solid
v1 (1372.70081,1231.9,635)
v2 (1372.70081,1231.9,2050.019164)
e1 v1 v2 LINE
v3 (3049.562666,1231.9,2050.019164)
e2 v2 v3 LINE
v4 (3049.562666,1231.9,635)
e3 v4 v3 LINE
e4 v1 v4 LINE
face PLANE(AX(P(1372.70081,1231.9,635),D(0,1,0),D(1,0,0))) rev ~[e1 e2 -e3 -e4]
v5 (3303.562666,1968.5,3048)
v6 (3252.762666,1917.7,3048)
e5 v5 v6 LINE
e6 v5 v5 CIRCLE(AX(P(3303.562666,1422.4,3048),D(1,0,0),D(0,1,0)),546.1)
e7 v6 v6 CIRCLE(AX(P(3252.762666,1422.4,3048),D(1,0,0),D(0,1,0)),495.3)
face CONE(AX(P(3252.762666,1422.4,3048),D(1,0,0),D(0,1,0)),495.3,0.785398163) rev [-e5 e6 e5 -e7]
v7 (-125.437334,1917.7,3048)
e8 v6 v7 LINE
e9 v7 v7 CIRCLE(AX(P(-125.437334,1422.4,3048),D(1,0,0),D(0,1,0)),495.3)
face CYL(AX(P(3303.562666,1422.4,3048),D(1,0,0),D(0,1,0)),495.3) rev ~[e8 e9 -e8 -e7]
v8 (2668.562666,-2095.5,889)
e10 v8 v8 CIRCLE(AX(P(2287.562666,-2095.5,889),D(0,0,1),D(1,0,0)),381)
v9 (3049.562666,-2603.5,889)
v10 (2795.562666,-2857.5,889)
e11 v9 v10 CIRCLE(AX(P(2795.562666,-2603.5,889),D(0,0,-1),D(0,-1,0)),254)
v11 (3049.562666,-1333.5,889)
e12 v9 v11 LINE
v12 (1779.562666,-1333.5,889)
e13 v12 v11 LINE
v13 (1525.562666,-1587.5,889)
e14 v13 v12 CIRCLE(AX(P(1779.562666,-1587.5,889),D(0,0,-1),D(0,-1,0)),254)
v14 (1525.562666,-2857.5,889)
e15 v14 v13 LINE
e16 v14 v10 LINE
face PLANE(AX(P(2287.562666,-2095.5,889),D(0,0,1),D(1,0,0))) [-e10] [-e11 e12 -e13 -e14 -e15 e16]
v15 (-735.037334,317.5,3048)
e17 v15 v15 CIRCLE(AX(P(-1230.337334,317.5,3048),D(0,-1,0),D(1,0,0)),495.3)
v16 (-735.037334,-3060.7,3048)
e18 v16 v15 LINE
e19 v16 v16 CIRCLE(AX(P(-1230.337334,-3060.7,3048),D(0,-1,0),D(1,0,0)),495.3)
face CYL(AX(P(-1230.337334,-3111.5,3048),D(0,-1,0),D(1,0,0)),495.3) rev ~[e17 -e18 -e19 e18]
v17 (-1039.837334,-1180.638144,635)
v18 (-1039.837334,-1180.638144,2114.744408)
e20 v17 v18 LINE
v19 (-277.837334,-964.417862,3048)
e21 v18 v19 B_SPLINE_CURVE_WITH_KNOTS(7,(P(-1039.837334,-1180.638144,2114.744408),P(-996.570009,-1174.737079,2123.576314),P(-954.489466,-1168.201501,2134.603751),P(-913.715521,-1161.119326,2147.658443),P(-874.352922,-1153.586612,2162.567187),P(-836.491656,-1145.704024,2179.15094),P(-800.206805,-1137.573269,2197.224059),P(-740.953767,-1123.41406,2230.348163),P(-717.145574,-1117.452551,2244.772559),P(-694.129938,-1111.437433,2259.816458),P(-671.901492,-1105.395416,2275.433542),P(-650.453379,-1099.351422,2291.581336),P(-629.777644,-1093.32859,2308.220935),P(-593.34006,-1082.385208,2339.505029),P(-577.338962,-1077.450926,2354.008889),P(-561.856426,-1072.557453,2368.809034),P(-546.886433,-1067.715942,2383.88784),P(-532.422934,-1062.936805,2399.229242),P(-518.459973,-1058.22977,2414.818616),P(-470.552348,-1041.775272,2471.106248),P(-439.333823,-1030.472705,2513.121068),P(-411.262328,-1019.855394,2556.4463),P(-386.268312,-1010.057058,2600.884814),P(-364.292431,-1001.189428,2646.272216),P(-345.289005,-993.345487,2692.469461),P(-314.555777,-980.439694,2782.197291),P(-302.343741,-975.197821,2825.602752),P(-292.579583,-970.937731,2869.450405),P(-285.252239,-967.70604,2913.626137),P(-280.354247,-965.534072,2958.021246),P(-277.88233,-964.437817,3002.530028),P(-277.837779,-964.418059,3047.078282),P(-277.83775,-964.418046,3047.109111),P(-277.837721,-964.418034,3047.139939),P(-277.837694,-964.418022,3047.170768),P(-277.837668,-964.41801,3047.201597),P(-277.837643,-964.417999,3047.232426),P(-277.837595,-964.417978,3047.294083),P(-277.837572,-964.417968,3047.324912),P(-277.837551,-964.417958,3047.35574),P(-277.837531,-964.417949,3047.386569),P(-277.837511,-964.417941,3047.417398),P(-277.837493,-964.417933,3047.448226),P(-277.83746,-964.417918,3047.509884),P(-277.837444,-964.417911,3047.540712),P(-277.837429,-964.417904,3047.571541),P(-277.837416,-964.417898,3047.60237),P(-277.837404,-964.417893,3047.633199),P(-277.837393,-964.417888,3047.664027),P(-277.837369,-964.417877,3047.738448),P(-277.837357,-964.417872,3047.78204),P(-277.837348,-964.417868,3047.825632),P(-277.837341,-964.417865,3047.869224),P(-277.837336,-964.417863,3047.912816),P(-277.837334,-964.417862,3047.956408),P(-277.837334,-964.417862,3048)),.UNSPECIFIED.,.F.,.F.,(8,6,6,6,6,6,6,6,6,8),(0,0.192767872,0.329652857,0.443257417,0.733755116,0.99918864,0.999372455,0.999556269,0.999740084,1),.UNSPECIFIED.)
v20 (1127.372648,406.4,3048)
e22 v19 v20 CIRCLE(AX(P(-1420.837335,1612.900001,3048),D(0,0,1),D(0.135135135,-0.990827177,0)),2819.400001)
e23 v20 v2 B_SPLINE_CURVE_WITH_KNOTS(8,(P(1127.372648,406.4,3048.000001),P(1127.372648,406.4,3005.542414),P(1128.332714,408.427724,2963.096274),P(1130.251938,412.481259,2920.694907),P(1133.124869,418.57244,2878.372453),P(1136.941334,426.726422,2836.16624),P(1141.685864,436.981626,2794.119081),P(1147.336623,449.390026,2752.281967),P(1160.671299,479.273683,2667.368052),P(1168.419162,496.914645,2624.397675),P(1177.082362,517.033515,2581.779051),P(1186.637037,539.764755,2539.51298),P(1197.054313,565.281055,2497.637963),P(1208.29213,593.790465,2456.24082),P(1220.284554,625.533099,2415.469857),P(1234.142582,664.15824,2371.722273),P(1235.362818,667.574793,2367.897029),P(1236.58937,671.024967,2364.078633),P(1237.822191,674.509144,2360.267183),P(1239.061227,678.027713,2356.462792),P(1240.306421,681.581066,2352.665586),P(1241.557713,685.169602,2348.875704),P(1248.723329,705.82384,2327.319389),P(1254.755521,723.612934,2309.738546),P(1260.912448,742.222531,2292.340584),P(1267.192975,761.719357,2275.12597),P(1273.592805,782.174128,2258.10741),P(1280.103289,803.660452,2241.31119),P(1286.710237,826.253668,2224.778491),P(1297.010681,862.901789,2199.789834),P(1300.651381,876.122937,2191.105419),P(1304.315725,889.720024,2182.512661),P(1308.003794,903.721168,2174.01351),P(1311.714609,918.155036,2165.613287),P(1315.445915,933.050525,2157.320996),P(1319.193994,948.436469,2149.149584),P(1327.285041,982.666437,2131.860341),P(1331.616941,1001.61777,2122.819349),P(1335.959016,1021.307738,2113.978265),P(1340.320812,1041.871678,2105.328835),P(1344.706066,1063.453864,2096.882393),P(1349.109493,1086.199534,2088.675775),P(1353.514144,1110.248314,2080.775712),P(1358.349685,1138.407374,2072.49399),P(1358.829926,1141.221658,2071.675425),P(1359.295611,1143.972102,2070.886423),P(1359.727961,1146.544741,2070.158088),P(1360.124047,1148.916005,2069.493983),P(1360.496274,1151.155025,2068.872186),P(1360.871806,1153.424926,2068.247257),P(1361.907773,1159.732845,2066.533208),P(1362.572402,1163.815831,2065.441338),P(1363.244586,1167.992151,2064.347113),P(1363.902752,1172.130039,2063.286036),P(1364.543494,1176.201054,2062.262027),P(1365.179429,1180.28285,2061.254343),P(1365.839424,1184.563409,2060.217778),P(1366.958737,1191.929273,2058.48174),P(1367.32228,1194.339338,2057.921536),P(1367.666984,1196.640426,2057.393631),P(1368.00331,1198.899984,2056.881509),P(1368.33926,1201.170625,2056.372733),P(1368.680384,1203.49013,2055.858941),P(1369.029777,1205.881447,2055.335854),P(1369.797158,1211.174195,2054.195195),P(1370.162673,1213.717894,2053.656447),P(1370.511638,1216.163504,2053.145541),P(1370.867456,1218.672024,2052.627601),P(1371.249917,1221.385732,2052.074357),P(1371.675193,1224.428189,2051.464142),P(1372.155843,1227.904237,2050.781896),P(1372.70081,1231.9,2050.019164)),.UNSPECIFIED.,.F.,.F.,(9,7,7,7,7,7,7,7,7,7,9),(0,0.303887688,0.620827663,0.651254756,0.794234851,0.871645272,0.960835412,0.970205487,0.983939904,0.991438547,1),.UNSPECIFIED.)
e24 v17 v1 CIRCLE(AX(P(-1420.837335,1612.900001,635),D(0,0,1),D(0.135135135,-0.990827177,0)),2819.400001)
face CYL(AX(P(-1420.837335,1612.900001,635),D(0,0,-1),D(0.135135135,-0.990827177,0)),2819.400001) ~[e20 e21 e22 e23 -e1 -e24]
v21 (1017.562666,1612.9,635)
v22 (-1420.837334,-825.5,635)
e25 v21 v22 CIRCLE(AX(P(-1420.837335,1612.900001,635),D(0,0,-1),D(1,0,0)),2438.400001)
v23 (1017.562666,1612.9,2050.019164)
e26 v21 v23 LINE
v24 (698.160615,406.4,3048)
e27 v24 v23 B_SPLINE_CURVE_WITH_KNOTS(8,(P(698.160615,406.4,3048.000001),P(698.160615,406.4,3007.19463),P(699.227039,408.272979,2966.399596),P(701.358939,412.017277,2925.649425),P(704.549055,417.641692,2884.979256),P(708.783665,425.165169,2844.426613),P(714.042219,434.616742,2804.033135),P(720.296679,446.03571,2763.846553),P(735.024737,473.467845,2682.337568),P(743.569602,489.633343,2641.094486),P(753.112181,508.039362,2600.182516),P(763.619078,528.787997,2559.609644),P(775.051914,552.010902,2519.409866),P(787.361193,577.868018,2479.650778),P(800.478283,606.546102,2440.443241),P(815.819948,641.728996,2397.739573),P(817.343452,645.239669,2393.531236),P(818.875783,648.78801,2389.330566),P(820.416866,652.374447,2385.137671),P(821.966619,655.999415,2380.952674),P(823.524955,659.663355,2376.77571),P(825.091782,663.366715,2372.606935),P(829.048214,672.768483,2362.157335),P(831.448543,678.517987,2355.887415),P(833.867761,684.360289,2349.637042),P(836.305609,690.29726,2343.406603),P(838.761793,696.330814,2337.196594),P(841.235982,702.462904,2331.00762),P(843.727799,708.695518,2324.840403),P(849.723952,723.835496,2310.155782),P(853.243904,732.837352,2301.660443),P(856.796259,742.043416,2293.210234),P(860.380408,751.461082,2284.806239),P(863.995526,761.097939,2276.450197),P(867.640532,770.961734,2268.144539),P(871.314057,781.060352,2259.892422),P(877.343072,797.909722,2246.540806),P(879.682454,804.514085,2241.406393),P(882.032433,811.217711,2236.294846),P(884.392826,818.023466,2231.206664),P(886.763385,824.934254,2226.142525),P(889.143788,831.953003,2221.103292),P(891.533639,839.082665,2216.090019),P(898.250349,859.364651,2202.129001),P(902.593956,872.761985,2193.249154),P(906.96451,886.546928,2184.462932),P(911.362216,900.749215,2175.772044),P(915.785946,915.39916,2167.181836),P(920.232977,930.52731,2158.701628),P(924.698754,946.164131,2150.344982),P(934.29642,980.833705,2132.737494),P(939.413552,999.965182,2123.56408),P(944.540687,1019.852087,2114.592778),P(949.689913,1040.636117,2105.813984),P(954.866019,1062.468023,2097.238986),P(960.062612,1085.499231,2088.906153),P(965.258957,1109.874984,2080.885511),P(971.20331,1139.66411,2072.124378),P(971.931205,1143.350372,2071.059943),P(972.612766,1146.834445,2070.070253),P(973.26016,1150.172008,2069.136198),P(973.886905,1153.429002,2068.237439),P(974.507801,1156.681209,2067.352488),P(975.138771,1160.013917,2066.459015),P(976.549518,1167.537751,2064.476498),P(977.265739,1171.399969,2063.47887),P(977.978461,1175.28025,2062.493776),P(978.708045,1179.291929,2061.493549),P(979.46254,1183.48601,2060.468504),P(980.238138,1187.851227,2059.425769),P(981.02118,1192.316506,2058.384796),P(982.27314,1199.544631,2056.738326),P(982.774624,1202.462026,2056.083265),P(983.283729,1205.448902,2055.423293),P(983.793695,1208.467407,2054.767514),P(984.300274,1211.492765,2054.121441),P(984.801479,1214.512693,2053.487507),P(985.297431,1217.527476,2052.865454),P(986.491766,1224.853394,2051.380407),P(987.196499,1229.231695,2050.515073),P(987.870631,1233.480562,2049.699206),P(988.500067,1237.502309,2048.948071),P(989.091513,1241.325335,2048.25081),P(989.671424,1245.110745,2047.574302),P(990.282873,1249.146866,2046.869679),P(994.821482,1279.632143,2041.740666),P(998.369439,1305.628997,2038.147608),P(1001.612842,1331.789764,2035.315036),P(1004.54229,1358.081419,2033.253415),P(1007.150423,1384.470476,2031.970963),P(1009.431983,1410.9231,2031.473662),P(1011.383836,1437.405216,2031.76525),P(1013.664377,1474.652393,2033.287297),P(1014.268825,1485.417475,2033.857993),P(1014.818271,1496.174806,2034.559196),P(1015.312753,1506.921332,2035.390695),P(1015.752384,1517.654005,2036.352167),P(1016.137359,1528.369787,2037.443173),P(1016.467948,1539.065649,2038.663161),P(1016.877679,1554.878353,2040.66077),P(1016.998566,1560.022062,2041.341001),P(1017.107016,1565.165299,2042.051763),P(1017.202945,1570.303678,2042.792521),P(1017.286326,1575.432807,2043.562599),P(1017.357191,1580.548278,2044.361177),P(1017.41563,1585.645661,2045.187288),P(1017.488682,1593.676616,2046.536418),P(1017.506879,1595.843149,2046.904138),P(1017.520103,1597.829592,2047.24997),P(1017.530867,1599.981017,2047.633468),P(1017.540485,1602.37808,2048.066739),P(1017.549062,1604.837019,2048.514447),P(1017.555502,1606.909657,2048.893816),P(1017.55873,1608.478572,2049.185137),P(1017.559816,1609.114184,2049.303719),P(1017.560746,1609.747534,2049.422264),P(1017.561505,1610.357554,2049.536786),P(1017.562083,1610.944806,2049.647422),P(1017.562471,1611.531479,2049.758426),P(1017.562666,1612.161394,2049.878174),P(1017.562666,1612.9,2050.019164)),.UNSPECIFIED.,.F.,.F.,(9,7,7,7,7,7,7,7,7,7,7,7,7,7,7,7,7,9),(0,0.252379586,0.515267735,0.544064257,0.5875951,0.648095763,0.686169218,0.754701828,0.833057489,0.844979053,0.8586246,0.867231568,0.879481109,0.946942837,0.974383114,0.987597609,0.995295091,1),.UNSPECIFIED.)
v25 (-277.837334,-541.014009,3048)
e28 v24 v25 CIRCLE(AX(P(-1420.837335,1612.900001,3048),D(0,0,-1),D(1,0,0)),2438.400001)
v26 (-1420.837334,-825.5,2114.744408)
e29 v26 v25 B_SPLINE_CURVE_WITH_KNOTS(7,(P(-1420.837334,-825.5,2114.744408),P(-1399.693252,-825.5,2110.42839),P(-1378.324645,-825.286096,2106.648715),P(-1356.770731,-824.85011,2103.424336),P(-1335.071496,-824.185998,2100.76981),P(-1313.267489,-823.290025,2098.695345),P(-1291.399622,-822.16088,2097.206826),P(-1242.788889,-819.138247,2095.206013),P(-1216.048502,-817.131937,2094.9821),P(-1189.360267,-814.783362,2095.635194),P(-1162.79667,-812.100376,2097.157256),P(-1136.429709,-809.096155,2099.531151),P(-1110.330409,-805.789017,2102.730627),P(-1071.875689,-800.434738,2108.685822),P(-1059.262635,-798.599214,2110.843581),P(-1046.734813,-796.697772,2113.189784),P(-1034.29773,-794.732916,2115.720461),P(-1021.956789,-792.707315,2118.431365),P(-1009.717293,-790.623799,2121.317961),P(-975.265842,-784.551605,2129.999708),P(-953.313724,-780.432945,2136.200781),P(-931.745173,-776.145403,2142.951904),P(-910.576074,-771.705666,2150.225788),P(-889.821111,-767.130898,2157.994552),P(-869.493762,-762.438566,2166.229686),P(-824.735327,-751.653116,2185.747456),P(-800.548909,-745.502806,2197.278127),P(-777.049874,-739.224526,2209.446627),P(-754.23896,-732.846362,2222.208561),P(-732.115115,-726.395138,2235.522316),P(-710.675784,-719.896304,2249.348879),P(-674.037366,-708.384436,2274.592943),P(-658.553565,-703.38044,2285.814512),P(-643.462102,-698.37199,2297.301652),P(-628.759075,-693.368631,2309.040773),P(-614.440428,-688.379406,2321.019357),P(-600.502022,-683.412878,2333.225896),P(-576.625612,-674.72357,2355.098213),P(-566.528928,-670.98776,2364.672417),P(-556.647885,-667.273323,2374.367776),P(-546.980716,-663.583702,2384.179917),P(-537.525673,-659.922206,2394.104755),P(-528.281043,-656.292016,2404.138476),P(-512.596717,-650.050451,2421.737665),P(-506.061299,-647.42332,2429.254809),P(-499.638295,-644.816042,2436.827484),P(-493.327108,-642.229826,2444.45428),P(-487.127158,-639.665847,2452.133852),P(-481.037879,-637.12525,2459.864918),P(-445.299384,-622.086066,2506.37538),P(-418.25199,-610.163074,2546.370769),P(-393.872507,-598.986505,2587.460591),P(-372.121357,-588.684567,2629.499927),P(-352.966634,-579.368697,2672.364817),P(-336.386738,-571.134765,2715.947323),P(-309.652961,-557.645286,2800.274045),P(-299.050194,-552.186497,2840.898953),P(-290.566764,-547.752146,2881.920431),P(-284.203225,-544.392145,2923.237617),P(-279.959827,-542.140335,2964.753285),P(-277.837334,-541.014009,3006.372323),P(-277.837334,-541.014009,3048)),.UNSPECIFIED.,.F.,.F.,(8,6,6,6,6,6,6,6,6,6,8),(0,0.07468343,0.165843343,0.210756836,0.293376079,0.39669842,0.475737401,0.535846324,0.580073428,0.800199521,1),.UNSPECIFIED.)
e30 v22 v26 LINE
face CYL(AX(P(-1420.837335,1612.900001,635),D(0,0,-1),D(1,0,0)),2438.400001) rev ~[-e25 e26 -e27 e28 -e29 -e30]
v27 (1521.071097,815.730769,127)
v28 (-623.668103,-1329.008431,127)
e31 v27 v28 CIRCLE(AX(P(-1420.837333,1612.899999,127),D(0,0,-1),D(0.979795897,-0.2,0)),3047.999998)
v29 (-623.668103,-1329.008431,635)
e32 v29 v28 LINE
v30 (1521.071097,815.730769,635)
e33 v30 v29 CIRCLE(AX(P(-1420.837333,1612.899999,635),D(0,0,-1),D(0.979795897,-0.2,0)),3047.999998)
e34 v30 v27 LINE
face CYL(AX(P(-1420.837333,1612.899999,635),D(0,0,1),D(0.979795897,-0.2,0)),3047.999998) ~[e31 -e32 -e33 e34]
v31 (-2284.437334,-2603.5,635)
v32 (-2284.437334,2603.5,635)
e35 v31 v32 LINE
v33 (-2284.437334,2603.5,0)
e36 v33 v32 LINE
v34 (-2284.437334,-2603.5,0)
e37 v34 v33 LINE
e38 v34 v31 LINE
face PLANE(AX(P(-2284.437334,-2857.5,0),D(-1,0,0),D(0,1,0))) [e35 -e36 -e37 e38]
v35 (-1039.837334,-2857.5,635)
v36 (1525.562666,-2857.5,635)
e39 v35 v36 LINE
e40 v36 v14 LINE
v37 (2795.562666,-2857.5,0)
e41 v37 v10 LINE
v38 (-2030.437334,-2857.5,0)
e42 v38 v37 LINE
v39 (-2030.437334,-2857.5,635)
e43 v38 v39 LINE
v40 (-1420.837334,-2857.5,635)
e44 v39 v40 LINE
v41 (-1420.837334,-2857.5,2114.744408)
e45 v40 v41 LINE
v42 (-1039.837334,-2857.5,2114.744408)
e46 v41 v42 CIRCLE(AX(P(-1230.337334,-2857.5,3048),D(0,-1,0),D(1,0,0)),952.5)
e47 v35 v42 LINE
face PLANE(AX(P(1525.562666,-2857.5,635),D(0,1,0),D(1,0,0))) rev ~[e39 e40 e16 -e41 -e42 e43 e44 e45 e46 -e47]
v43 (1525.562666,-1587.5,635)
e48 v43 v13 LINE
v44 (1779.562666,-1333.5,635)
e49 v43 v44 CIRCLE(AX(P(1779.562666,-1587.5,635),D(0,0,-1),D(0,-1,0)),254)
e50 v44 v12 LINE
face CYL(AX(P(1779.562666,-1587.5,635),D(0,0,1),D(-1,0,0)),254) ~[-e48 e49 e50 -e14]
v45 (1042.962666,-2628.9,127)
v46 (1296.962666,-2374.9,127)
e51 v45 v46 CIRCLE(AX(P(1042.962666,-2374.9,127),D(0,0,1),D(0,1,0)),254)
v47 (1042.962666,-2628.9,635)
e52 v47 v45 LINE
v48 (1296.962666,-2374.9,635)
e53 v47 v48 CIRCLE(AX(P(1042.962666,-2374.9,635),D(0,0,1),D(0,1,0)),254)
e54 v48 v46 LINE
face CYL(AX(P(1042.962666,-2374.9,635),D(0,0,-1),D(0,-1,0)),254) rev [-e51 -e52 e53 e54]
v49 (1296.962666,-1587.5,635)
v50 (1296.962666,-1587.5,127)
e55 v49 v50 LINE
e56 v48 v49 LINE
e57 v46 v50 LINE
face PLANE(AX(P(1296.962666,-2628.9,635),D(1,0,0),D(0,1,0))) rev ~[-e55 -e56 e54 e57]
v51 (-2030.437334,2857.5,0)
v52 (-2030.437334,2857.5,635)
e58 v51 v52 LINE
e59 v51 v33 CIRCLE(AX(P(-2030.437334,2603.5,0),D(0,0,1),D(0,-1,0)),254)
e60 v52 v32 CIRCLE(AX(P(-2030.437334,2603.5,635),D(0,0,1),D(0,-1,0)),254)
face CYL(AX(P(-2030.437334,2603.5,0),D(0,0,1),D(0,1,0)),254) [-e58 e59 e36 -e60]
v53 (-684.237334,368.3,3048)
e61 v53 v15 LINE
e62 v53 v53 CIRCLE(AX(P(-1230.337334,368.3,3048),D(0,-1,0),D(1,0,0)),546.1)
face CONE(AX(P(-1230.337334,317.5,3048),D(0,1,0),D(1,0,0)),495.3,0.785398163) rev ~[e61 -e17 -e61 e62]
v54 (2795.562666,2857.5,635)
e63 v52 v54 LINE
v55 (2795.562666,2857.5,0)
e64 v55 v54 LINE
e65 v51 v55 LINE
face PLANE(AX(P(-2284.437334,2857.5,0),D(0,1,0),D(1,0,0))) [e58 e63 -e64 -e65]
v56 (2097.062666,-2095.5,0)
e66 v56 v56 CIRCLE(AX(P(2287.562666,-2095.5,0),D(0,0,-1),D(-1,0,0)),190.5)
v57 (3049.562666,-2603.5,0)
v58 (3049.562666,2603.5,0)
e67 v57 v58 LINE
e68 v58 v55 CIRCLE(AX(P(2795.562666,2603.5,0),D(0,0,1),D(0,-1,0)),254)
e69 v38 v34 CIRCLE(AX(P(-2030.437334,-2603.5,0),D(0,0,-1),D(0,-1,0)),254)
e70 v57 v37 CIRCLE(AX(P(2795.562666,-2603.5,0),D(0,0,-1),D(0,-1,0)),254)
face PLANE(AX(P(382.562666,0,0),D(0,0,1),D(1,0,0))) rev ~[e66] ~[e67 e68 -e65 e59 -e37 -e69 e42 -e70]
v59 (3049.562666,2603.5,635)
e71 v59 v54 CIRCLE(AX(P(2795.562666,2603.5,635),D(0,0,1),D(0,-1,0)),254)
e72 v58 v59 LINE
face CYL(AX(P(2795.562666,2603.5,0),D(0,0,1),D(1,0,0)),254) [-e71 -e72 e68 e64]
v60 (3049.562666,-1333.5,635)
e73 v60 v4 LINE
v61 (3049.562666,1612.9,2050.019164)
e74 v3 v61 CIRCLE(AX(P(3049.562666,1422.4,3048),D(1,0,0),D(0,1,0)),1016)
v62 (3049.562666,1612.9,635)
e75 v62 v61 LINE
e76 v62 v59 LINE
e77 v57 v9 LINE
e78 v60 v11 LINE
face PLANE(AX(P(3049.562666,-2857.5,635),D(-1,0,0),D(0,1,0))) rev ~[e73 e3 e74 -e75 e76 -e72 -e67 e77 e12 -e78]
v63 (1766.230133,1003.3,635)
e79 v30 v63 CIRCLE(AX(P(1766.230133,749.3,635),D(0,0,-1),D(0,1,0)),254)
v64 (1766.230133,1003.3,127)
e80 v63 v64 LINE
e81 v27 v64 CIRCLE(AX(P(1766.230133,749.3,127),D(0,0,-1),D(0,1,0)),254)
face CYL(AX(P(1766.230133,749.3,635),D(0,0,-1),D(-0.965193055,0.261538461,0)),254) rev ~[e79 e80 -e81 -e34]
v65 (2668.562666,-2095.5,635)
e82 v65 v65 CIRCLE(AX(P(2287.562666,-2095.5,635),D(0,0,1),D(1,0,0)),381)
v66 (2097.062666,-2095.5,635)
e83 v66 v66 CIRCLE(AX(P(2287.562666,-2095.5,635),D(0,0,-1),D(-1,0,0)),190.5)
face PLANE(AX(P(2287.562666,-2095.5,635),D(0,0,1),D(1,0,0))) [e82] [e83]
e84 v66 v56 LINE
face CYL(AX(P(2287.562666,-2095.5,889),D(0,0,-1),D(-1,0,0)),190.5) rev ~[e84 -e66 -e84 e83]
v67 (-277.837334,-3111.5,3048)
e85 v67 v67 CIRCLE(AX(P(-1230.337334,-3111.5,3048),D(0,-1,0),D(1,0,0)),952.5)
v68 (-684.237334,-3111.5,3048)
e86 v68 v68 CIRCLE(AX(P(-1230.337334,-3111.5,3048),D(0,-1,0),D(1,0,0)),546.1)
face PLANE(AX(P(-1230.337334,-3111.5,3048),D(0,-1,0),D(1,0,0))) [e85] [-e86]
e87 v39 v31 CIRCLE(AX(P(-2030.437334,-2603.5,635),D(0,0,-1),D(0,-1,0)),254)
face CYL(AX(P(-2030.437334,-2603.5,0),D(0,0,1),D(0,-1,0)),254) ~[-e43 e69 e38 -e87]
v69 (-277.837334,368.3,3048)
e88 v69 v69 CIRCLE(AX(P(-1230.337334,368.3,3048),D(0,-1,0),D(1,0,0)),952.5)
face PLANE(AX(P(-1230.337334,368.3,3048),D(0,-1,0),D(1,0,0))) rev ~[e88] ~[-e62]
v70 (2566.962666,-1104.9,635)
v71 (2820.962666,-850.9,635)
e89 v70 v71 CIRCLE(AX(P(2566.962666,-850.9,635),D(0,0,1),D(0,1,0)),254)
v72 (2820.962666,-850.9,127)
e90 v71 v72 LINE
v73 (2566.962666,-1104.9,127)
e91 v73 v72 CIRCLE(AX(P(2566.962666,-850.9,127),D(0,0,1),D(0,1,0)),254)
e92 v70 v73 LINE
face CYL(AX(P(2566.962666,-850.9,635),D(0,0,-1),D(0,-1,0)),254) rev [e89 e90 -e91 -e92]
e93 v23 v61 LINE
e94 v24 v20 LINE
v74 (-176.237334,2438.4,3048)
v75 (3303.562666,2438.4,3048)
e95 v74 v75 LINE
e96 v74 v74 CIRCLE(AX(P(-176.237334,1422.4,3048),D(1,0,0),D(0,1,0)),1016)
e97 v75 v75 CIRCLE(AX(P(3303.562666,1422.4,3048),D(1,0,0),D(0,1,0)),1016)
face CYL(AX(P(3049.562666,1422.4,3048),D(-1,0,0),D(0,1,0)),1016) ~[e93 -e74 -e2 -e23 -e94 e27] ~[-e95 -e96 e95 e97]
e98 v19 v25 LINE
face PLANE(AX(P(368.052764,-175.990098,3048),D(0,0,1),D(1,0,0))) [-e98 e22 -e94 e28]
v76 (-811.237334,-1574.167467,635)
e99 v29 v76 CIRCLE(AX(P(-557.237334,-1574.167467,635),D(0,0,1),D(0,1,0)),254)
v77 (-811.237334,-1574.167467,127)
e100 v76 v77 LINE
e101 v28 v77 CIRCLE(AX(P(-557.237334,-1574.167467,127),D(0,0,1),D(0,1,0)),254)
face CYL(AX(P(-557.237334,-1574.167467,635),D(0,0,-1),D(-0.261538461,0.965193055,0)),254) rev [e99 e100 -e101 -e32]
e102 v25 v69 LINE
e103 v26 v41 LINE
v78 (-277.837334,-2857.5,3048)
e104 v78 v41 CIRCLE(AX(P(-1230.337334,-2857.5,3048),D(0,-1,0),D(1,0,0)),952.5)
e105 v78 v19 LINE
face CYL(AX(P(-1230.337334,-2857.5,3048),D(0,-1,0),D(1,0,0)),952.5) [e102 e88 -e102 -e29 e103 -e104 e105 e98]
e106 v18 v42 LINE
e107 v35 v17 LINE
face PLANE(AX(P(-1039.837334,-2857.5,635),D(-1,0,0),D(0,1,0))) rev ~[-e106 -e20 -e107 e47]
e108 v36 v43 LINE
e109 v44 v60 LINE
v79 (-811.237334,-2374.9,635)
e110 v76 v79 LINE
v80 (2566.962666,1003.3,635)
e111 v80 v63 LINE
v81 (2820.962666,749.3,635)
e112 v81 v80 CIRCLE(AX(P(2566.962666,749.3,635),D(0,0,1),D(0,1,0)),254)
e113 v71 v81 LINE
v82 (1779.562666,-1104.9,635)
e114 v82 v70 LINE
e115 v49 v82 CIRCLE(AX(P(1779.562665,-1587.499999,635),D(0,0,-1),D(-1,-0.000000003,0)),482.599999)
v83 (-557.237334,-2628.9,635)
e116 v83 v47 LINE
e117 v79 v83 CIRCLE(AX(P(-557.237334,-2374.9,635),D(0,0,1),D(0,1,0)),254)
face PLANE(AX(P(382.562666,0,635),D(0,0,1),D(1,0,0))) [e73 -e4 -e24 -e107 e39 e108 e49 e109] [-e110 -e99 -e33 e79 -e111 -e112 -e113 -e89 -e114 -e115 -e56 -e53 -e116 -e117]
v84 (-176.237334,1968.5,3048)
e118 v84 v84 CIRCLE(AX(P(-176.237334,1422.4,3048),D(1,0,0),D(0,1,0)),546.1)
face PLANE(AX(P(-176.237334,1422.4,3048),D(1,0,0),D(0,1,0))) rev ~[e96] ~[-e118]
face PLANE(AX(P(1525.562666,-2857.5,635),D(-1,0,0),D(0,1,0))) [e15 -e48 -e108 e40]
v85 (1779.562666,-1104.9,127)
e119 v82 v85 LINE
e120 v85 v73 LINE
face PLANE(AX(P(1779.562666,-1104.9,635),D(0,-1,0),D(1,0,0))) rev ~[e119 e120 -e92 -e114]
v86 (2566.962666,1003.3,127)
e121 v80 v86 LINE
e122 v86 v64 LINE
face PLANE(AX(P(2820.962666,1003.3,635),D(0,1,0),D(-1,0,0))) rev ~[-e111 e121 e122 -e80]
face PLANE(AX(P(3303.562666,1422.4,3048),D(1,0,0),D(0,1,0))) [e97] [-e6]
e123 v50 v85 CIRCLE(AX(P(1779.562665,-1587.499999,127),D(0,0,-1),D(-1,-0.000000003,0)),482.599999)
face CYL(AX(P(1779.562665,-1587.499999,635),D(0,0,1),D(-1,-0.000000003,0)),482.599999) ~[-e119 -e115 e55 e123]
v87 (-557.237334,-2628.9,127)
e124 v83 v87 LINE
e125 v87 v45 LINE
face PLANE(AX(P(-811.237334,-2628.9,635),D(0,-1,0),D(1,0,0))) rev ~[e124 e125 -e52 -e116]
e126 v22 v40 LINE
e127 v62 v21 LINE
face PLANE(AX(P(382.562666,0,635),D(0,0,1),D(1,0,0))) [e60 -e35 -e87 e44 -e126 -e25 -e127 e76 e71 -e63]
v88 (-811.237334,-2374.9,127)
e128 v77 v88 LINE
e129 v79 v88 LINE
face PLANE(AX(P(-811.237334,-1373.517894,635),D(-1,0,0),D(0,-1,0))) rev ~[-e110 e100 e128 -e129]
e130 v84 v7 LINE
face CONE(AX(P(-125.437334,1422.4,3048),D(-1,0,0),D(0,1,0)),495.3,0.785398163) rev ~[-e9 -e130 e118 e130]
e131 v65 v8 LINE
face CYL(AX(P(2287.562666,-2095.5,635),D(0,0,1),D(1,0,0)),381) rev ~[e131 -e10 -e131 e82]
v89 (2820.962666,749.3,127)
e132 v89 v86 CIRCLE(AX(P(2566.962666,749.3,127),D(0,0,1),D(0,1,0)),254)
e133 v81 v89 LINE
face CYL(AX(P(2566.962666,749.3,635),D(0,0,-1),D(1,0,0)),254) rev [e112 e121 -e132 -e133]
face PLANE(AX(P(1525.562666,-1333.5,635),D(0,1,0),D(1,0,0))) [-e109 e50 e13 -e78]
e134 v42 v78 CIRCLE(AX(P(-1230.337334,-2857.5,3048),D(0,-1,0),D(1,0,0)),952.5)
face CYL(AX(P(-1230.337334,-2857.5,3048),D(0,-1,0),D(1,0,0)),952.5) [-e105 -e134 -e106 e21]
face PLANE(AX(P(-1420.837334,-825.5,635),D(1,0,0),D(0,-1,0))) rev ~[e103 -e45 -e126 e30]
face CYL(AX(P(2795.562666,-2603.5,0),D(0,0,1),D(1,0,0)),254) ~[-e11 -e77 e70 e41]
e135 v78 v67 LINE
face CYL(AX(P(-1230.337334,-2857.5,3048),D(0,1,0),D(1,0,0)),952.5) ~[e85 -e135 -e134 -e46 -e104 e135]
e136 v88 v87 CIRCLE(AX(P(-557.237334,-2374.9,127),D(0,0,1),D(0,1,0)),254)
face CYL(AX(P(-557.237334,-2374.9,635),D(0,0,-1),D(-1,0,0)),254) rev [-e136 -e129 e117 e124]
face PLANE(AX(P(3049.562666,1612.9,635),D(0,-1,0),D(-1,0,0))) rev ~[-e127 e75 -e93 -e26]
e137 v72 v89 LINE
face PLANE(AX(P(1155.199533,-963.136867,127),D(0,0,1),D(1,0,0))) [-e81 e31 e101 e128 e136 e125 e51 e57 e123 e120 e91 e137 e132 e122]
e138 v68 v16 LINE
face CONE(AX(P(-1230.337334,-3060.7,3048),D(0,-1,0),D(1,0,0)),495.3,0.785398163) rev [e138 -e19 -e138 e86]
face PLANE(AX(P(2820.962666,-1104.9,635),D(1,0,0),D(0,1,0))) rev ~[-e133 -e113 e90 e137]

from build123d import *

# Parameters (mm, degrees)
F0_W            = 5334
F0_H            = 5715
F1_DEPTH        = 635
F3_DEPTH        = 2413
F4_R            = 952.5
F5_DEPTH        = 254
F5_DEPTH_BACK   = 3225.8
F6_R            = 1016
F7_DEPTH        = 254
F7_DEPTH_BACK   = 3225.8
F8_W            = 1524
F8_H            = 1524
F9_DEPTH        = 254
F10_R           = 254
F12_DEPTH       = 508
F14_D           = 381
F14_CBORE_D     = 762
F14_CBORE_DEPTH = 254
F15_R           = 254
F16_R           = 495.3
F17_DEPTH       = 5969.001
F18_R           = 495.3
F19_DEPTH       = 5588.001
F20_SIZE        = 50.8
F21_R           = 254


with BuildPart() as f1:
    # F0 (on Top) → F1 (new body)
    with BuildSketch(Plane.XY):
        with Locations((382.562666, 0)):
            Rectangle(F0_W, F0_H)
    extrude(amount=F1_DEPTH)

    # F2 (on face) → F3 (join)
    with BuildSketch(Plane.XY.offset(635)):
        with BuildLine():
            Line((-1420.837334, -825.5), (-1420.837334, -2857.5))
            Line((-1420.837334, -2857.5), (-1039.837334, -2857.5))
            Line((-1039.837334, -2857.5), (-1039.837334, -1180.638144))
            ThreePointArc((-1039.837334, -1180.638144), (572.779525, -380.716859), (1372.70081, 1231.9))
            Line((1372.70081, 1231.9), (3049.562666, 1231.9))
            Line((3049.562666, 1231.9), (3049.562666, 1612.9))
            Line((3049.562666, 1612.9), (1017.562666, 1612.9))
            ThreePointArc((1017.562666, 1612.9), (303.371841, -111.309175), (-1420.837334, -825.5))
        make_face()
    extrude(amount=F3_DEPTH)

    # F4 (on face) → F5 (join, two sides)
    with BuildSketch(Plane.XZ.offset(2857.5)) as f5_sk:
        with Locations((-1230.337334, 3048)):
            Circle(F4_R)
    extrude(amount=F5_DEPTH)
    extrude(f5_sk.sketch, amount=-F5_DEPTH_BACK)

    # F6 (on face) → F7 (join, two sides)
    with BuildSketch(Plane.YZ.offset(3049.562666)) as f7_sk:
        with Locations((1422.4, 3048)):
            Circle(F6_R)
    extrude(amount=F7_DEPTH)
    extrude(f7_sk.sketch, amount=-F7_DEPTH_BACK)

    # F8 (on face) → F9 (join)
    with BuildSketch(Plane.XY.offset(635)):
        with Locations((2287.562666, -2095.5)):
            Rectangle(F8_W, F8_H)
    extrude(amount=F9_DEPTH)

    # F10
    f10_edges = [f1.edges().sort_by_distance(p)[0] for p in [
        (1525.562666, -1333.5, 762),
    ]]
    fillet(f10_edges, radius=F10_R)

    # F11 (on face) → F12 (cut)
    with BuildSketch(Plane.XY.offset(635)):
        with BuildLine():
            ThreePointArc((1565.58056, 1003.3), (734.424135, -542.361469), (-811.237334, -1373.517894))
            Line((-811.237334, -1373.517894), (-811.237334, -2628.9))
            Line((-811.237334, -2628.9), (1296.962666, -2628.9))
            Line((1296.962666, -2628.9), (1296.962666, -1587.5))
            ThreePointArc((1296.962666, -1587.5), (1438.312933, -1246.250267), (1779.562666, -1104.9))
            Line((1779.562666, -1104.9), (2820.962666, -1104.9))
            Line((2820.962666, -1104.9), (2820.962666, 1003.3))
            Line((2820.962666, 1003.3), (1565.58056, 1003.3))
        make_face()
    extrude(amount=-F12_DEPTH, mode=Mode.SUBTRACT)

    # F14 (through all)
    with Locations(Plane.XY.offset(889)):
        with Locations((2287.562666, -2095.5)):
            CounterBoreHole(F14_D / 2, F14_CBORE_D / 2, F14_CBORE_DEPTH)

    # F15
    f15_edges = [f1.edges().sort_by_distance(p)[0] for p in [
        (-811.237334, -1373.517894, 381),
        (1565.58056, 1003.3, 381),
        (-811.237334, -2628.9, 381),
        (2820.962666, 1003.3, 381),
        (1296.962666, -2628.9, 381),
        (2820.962666, -1104.9, 381),
    ]]
    fillet(f15_edges, radius=F15_R)

    # F16 (on face) → F17 (cut, through all)
    with BuildSketch(Plane.XZ.offset(3111.5)):
        with Locations((-1230.337334, 3048)):
            Circle(F16_R)
    extrude(amount=-F17_DEPTH, mode=Mode.SUBTRACT)

    # F18 (on face) → F19 (cut, through all)
    with BuildSketch(Plane.YZ.offset(3303.562666)):
        with Locations((1422.4, 3048)):
            Circle(F18_R)
    extrude(amount=-F19_DEPTH, mode=Mode.SUBTRACT)

    # F20
    f20_edges = [f1.edges().sort_by_distance(p)[0] for p in [
        (-1725.637334, -3111.5, 3048),
        (3303.562666, 927.1, 3048),
        (-1725.637334, 368.3, 3048),
        (-176.237334, 927.1, 3048),
    ]]
    chamfer(f20_edges, length=F20_SIZE)

    # F21
    f21_edges = [f1.edges().sort_by_distance(p)[0] for p in [
        (-2284.437334, -2857.5, 317.5),
        (3049.562666, -2857.5, 444.5),
        (3049.562666, 2857.5, 317.5),
        (-2284.437334, 2857.5, 317.5),
    ]]
    fillet(f21_edges, radius=F21_R)


solid = f1.part
